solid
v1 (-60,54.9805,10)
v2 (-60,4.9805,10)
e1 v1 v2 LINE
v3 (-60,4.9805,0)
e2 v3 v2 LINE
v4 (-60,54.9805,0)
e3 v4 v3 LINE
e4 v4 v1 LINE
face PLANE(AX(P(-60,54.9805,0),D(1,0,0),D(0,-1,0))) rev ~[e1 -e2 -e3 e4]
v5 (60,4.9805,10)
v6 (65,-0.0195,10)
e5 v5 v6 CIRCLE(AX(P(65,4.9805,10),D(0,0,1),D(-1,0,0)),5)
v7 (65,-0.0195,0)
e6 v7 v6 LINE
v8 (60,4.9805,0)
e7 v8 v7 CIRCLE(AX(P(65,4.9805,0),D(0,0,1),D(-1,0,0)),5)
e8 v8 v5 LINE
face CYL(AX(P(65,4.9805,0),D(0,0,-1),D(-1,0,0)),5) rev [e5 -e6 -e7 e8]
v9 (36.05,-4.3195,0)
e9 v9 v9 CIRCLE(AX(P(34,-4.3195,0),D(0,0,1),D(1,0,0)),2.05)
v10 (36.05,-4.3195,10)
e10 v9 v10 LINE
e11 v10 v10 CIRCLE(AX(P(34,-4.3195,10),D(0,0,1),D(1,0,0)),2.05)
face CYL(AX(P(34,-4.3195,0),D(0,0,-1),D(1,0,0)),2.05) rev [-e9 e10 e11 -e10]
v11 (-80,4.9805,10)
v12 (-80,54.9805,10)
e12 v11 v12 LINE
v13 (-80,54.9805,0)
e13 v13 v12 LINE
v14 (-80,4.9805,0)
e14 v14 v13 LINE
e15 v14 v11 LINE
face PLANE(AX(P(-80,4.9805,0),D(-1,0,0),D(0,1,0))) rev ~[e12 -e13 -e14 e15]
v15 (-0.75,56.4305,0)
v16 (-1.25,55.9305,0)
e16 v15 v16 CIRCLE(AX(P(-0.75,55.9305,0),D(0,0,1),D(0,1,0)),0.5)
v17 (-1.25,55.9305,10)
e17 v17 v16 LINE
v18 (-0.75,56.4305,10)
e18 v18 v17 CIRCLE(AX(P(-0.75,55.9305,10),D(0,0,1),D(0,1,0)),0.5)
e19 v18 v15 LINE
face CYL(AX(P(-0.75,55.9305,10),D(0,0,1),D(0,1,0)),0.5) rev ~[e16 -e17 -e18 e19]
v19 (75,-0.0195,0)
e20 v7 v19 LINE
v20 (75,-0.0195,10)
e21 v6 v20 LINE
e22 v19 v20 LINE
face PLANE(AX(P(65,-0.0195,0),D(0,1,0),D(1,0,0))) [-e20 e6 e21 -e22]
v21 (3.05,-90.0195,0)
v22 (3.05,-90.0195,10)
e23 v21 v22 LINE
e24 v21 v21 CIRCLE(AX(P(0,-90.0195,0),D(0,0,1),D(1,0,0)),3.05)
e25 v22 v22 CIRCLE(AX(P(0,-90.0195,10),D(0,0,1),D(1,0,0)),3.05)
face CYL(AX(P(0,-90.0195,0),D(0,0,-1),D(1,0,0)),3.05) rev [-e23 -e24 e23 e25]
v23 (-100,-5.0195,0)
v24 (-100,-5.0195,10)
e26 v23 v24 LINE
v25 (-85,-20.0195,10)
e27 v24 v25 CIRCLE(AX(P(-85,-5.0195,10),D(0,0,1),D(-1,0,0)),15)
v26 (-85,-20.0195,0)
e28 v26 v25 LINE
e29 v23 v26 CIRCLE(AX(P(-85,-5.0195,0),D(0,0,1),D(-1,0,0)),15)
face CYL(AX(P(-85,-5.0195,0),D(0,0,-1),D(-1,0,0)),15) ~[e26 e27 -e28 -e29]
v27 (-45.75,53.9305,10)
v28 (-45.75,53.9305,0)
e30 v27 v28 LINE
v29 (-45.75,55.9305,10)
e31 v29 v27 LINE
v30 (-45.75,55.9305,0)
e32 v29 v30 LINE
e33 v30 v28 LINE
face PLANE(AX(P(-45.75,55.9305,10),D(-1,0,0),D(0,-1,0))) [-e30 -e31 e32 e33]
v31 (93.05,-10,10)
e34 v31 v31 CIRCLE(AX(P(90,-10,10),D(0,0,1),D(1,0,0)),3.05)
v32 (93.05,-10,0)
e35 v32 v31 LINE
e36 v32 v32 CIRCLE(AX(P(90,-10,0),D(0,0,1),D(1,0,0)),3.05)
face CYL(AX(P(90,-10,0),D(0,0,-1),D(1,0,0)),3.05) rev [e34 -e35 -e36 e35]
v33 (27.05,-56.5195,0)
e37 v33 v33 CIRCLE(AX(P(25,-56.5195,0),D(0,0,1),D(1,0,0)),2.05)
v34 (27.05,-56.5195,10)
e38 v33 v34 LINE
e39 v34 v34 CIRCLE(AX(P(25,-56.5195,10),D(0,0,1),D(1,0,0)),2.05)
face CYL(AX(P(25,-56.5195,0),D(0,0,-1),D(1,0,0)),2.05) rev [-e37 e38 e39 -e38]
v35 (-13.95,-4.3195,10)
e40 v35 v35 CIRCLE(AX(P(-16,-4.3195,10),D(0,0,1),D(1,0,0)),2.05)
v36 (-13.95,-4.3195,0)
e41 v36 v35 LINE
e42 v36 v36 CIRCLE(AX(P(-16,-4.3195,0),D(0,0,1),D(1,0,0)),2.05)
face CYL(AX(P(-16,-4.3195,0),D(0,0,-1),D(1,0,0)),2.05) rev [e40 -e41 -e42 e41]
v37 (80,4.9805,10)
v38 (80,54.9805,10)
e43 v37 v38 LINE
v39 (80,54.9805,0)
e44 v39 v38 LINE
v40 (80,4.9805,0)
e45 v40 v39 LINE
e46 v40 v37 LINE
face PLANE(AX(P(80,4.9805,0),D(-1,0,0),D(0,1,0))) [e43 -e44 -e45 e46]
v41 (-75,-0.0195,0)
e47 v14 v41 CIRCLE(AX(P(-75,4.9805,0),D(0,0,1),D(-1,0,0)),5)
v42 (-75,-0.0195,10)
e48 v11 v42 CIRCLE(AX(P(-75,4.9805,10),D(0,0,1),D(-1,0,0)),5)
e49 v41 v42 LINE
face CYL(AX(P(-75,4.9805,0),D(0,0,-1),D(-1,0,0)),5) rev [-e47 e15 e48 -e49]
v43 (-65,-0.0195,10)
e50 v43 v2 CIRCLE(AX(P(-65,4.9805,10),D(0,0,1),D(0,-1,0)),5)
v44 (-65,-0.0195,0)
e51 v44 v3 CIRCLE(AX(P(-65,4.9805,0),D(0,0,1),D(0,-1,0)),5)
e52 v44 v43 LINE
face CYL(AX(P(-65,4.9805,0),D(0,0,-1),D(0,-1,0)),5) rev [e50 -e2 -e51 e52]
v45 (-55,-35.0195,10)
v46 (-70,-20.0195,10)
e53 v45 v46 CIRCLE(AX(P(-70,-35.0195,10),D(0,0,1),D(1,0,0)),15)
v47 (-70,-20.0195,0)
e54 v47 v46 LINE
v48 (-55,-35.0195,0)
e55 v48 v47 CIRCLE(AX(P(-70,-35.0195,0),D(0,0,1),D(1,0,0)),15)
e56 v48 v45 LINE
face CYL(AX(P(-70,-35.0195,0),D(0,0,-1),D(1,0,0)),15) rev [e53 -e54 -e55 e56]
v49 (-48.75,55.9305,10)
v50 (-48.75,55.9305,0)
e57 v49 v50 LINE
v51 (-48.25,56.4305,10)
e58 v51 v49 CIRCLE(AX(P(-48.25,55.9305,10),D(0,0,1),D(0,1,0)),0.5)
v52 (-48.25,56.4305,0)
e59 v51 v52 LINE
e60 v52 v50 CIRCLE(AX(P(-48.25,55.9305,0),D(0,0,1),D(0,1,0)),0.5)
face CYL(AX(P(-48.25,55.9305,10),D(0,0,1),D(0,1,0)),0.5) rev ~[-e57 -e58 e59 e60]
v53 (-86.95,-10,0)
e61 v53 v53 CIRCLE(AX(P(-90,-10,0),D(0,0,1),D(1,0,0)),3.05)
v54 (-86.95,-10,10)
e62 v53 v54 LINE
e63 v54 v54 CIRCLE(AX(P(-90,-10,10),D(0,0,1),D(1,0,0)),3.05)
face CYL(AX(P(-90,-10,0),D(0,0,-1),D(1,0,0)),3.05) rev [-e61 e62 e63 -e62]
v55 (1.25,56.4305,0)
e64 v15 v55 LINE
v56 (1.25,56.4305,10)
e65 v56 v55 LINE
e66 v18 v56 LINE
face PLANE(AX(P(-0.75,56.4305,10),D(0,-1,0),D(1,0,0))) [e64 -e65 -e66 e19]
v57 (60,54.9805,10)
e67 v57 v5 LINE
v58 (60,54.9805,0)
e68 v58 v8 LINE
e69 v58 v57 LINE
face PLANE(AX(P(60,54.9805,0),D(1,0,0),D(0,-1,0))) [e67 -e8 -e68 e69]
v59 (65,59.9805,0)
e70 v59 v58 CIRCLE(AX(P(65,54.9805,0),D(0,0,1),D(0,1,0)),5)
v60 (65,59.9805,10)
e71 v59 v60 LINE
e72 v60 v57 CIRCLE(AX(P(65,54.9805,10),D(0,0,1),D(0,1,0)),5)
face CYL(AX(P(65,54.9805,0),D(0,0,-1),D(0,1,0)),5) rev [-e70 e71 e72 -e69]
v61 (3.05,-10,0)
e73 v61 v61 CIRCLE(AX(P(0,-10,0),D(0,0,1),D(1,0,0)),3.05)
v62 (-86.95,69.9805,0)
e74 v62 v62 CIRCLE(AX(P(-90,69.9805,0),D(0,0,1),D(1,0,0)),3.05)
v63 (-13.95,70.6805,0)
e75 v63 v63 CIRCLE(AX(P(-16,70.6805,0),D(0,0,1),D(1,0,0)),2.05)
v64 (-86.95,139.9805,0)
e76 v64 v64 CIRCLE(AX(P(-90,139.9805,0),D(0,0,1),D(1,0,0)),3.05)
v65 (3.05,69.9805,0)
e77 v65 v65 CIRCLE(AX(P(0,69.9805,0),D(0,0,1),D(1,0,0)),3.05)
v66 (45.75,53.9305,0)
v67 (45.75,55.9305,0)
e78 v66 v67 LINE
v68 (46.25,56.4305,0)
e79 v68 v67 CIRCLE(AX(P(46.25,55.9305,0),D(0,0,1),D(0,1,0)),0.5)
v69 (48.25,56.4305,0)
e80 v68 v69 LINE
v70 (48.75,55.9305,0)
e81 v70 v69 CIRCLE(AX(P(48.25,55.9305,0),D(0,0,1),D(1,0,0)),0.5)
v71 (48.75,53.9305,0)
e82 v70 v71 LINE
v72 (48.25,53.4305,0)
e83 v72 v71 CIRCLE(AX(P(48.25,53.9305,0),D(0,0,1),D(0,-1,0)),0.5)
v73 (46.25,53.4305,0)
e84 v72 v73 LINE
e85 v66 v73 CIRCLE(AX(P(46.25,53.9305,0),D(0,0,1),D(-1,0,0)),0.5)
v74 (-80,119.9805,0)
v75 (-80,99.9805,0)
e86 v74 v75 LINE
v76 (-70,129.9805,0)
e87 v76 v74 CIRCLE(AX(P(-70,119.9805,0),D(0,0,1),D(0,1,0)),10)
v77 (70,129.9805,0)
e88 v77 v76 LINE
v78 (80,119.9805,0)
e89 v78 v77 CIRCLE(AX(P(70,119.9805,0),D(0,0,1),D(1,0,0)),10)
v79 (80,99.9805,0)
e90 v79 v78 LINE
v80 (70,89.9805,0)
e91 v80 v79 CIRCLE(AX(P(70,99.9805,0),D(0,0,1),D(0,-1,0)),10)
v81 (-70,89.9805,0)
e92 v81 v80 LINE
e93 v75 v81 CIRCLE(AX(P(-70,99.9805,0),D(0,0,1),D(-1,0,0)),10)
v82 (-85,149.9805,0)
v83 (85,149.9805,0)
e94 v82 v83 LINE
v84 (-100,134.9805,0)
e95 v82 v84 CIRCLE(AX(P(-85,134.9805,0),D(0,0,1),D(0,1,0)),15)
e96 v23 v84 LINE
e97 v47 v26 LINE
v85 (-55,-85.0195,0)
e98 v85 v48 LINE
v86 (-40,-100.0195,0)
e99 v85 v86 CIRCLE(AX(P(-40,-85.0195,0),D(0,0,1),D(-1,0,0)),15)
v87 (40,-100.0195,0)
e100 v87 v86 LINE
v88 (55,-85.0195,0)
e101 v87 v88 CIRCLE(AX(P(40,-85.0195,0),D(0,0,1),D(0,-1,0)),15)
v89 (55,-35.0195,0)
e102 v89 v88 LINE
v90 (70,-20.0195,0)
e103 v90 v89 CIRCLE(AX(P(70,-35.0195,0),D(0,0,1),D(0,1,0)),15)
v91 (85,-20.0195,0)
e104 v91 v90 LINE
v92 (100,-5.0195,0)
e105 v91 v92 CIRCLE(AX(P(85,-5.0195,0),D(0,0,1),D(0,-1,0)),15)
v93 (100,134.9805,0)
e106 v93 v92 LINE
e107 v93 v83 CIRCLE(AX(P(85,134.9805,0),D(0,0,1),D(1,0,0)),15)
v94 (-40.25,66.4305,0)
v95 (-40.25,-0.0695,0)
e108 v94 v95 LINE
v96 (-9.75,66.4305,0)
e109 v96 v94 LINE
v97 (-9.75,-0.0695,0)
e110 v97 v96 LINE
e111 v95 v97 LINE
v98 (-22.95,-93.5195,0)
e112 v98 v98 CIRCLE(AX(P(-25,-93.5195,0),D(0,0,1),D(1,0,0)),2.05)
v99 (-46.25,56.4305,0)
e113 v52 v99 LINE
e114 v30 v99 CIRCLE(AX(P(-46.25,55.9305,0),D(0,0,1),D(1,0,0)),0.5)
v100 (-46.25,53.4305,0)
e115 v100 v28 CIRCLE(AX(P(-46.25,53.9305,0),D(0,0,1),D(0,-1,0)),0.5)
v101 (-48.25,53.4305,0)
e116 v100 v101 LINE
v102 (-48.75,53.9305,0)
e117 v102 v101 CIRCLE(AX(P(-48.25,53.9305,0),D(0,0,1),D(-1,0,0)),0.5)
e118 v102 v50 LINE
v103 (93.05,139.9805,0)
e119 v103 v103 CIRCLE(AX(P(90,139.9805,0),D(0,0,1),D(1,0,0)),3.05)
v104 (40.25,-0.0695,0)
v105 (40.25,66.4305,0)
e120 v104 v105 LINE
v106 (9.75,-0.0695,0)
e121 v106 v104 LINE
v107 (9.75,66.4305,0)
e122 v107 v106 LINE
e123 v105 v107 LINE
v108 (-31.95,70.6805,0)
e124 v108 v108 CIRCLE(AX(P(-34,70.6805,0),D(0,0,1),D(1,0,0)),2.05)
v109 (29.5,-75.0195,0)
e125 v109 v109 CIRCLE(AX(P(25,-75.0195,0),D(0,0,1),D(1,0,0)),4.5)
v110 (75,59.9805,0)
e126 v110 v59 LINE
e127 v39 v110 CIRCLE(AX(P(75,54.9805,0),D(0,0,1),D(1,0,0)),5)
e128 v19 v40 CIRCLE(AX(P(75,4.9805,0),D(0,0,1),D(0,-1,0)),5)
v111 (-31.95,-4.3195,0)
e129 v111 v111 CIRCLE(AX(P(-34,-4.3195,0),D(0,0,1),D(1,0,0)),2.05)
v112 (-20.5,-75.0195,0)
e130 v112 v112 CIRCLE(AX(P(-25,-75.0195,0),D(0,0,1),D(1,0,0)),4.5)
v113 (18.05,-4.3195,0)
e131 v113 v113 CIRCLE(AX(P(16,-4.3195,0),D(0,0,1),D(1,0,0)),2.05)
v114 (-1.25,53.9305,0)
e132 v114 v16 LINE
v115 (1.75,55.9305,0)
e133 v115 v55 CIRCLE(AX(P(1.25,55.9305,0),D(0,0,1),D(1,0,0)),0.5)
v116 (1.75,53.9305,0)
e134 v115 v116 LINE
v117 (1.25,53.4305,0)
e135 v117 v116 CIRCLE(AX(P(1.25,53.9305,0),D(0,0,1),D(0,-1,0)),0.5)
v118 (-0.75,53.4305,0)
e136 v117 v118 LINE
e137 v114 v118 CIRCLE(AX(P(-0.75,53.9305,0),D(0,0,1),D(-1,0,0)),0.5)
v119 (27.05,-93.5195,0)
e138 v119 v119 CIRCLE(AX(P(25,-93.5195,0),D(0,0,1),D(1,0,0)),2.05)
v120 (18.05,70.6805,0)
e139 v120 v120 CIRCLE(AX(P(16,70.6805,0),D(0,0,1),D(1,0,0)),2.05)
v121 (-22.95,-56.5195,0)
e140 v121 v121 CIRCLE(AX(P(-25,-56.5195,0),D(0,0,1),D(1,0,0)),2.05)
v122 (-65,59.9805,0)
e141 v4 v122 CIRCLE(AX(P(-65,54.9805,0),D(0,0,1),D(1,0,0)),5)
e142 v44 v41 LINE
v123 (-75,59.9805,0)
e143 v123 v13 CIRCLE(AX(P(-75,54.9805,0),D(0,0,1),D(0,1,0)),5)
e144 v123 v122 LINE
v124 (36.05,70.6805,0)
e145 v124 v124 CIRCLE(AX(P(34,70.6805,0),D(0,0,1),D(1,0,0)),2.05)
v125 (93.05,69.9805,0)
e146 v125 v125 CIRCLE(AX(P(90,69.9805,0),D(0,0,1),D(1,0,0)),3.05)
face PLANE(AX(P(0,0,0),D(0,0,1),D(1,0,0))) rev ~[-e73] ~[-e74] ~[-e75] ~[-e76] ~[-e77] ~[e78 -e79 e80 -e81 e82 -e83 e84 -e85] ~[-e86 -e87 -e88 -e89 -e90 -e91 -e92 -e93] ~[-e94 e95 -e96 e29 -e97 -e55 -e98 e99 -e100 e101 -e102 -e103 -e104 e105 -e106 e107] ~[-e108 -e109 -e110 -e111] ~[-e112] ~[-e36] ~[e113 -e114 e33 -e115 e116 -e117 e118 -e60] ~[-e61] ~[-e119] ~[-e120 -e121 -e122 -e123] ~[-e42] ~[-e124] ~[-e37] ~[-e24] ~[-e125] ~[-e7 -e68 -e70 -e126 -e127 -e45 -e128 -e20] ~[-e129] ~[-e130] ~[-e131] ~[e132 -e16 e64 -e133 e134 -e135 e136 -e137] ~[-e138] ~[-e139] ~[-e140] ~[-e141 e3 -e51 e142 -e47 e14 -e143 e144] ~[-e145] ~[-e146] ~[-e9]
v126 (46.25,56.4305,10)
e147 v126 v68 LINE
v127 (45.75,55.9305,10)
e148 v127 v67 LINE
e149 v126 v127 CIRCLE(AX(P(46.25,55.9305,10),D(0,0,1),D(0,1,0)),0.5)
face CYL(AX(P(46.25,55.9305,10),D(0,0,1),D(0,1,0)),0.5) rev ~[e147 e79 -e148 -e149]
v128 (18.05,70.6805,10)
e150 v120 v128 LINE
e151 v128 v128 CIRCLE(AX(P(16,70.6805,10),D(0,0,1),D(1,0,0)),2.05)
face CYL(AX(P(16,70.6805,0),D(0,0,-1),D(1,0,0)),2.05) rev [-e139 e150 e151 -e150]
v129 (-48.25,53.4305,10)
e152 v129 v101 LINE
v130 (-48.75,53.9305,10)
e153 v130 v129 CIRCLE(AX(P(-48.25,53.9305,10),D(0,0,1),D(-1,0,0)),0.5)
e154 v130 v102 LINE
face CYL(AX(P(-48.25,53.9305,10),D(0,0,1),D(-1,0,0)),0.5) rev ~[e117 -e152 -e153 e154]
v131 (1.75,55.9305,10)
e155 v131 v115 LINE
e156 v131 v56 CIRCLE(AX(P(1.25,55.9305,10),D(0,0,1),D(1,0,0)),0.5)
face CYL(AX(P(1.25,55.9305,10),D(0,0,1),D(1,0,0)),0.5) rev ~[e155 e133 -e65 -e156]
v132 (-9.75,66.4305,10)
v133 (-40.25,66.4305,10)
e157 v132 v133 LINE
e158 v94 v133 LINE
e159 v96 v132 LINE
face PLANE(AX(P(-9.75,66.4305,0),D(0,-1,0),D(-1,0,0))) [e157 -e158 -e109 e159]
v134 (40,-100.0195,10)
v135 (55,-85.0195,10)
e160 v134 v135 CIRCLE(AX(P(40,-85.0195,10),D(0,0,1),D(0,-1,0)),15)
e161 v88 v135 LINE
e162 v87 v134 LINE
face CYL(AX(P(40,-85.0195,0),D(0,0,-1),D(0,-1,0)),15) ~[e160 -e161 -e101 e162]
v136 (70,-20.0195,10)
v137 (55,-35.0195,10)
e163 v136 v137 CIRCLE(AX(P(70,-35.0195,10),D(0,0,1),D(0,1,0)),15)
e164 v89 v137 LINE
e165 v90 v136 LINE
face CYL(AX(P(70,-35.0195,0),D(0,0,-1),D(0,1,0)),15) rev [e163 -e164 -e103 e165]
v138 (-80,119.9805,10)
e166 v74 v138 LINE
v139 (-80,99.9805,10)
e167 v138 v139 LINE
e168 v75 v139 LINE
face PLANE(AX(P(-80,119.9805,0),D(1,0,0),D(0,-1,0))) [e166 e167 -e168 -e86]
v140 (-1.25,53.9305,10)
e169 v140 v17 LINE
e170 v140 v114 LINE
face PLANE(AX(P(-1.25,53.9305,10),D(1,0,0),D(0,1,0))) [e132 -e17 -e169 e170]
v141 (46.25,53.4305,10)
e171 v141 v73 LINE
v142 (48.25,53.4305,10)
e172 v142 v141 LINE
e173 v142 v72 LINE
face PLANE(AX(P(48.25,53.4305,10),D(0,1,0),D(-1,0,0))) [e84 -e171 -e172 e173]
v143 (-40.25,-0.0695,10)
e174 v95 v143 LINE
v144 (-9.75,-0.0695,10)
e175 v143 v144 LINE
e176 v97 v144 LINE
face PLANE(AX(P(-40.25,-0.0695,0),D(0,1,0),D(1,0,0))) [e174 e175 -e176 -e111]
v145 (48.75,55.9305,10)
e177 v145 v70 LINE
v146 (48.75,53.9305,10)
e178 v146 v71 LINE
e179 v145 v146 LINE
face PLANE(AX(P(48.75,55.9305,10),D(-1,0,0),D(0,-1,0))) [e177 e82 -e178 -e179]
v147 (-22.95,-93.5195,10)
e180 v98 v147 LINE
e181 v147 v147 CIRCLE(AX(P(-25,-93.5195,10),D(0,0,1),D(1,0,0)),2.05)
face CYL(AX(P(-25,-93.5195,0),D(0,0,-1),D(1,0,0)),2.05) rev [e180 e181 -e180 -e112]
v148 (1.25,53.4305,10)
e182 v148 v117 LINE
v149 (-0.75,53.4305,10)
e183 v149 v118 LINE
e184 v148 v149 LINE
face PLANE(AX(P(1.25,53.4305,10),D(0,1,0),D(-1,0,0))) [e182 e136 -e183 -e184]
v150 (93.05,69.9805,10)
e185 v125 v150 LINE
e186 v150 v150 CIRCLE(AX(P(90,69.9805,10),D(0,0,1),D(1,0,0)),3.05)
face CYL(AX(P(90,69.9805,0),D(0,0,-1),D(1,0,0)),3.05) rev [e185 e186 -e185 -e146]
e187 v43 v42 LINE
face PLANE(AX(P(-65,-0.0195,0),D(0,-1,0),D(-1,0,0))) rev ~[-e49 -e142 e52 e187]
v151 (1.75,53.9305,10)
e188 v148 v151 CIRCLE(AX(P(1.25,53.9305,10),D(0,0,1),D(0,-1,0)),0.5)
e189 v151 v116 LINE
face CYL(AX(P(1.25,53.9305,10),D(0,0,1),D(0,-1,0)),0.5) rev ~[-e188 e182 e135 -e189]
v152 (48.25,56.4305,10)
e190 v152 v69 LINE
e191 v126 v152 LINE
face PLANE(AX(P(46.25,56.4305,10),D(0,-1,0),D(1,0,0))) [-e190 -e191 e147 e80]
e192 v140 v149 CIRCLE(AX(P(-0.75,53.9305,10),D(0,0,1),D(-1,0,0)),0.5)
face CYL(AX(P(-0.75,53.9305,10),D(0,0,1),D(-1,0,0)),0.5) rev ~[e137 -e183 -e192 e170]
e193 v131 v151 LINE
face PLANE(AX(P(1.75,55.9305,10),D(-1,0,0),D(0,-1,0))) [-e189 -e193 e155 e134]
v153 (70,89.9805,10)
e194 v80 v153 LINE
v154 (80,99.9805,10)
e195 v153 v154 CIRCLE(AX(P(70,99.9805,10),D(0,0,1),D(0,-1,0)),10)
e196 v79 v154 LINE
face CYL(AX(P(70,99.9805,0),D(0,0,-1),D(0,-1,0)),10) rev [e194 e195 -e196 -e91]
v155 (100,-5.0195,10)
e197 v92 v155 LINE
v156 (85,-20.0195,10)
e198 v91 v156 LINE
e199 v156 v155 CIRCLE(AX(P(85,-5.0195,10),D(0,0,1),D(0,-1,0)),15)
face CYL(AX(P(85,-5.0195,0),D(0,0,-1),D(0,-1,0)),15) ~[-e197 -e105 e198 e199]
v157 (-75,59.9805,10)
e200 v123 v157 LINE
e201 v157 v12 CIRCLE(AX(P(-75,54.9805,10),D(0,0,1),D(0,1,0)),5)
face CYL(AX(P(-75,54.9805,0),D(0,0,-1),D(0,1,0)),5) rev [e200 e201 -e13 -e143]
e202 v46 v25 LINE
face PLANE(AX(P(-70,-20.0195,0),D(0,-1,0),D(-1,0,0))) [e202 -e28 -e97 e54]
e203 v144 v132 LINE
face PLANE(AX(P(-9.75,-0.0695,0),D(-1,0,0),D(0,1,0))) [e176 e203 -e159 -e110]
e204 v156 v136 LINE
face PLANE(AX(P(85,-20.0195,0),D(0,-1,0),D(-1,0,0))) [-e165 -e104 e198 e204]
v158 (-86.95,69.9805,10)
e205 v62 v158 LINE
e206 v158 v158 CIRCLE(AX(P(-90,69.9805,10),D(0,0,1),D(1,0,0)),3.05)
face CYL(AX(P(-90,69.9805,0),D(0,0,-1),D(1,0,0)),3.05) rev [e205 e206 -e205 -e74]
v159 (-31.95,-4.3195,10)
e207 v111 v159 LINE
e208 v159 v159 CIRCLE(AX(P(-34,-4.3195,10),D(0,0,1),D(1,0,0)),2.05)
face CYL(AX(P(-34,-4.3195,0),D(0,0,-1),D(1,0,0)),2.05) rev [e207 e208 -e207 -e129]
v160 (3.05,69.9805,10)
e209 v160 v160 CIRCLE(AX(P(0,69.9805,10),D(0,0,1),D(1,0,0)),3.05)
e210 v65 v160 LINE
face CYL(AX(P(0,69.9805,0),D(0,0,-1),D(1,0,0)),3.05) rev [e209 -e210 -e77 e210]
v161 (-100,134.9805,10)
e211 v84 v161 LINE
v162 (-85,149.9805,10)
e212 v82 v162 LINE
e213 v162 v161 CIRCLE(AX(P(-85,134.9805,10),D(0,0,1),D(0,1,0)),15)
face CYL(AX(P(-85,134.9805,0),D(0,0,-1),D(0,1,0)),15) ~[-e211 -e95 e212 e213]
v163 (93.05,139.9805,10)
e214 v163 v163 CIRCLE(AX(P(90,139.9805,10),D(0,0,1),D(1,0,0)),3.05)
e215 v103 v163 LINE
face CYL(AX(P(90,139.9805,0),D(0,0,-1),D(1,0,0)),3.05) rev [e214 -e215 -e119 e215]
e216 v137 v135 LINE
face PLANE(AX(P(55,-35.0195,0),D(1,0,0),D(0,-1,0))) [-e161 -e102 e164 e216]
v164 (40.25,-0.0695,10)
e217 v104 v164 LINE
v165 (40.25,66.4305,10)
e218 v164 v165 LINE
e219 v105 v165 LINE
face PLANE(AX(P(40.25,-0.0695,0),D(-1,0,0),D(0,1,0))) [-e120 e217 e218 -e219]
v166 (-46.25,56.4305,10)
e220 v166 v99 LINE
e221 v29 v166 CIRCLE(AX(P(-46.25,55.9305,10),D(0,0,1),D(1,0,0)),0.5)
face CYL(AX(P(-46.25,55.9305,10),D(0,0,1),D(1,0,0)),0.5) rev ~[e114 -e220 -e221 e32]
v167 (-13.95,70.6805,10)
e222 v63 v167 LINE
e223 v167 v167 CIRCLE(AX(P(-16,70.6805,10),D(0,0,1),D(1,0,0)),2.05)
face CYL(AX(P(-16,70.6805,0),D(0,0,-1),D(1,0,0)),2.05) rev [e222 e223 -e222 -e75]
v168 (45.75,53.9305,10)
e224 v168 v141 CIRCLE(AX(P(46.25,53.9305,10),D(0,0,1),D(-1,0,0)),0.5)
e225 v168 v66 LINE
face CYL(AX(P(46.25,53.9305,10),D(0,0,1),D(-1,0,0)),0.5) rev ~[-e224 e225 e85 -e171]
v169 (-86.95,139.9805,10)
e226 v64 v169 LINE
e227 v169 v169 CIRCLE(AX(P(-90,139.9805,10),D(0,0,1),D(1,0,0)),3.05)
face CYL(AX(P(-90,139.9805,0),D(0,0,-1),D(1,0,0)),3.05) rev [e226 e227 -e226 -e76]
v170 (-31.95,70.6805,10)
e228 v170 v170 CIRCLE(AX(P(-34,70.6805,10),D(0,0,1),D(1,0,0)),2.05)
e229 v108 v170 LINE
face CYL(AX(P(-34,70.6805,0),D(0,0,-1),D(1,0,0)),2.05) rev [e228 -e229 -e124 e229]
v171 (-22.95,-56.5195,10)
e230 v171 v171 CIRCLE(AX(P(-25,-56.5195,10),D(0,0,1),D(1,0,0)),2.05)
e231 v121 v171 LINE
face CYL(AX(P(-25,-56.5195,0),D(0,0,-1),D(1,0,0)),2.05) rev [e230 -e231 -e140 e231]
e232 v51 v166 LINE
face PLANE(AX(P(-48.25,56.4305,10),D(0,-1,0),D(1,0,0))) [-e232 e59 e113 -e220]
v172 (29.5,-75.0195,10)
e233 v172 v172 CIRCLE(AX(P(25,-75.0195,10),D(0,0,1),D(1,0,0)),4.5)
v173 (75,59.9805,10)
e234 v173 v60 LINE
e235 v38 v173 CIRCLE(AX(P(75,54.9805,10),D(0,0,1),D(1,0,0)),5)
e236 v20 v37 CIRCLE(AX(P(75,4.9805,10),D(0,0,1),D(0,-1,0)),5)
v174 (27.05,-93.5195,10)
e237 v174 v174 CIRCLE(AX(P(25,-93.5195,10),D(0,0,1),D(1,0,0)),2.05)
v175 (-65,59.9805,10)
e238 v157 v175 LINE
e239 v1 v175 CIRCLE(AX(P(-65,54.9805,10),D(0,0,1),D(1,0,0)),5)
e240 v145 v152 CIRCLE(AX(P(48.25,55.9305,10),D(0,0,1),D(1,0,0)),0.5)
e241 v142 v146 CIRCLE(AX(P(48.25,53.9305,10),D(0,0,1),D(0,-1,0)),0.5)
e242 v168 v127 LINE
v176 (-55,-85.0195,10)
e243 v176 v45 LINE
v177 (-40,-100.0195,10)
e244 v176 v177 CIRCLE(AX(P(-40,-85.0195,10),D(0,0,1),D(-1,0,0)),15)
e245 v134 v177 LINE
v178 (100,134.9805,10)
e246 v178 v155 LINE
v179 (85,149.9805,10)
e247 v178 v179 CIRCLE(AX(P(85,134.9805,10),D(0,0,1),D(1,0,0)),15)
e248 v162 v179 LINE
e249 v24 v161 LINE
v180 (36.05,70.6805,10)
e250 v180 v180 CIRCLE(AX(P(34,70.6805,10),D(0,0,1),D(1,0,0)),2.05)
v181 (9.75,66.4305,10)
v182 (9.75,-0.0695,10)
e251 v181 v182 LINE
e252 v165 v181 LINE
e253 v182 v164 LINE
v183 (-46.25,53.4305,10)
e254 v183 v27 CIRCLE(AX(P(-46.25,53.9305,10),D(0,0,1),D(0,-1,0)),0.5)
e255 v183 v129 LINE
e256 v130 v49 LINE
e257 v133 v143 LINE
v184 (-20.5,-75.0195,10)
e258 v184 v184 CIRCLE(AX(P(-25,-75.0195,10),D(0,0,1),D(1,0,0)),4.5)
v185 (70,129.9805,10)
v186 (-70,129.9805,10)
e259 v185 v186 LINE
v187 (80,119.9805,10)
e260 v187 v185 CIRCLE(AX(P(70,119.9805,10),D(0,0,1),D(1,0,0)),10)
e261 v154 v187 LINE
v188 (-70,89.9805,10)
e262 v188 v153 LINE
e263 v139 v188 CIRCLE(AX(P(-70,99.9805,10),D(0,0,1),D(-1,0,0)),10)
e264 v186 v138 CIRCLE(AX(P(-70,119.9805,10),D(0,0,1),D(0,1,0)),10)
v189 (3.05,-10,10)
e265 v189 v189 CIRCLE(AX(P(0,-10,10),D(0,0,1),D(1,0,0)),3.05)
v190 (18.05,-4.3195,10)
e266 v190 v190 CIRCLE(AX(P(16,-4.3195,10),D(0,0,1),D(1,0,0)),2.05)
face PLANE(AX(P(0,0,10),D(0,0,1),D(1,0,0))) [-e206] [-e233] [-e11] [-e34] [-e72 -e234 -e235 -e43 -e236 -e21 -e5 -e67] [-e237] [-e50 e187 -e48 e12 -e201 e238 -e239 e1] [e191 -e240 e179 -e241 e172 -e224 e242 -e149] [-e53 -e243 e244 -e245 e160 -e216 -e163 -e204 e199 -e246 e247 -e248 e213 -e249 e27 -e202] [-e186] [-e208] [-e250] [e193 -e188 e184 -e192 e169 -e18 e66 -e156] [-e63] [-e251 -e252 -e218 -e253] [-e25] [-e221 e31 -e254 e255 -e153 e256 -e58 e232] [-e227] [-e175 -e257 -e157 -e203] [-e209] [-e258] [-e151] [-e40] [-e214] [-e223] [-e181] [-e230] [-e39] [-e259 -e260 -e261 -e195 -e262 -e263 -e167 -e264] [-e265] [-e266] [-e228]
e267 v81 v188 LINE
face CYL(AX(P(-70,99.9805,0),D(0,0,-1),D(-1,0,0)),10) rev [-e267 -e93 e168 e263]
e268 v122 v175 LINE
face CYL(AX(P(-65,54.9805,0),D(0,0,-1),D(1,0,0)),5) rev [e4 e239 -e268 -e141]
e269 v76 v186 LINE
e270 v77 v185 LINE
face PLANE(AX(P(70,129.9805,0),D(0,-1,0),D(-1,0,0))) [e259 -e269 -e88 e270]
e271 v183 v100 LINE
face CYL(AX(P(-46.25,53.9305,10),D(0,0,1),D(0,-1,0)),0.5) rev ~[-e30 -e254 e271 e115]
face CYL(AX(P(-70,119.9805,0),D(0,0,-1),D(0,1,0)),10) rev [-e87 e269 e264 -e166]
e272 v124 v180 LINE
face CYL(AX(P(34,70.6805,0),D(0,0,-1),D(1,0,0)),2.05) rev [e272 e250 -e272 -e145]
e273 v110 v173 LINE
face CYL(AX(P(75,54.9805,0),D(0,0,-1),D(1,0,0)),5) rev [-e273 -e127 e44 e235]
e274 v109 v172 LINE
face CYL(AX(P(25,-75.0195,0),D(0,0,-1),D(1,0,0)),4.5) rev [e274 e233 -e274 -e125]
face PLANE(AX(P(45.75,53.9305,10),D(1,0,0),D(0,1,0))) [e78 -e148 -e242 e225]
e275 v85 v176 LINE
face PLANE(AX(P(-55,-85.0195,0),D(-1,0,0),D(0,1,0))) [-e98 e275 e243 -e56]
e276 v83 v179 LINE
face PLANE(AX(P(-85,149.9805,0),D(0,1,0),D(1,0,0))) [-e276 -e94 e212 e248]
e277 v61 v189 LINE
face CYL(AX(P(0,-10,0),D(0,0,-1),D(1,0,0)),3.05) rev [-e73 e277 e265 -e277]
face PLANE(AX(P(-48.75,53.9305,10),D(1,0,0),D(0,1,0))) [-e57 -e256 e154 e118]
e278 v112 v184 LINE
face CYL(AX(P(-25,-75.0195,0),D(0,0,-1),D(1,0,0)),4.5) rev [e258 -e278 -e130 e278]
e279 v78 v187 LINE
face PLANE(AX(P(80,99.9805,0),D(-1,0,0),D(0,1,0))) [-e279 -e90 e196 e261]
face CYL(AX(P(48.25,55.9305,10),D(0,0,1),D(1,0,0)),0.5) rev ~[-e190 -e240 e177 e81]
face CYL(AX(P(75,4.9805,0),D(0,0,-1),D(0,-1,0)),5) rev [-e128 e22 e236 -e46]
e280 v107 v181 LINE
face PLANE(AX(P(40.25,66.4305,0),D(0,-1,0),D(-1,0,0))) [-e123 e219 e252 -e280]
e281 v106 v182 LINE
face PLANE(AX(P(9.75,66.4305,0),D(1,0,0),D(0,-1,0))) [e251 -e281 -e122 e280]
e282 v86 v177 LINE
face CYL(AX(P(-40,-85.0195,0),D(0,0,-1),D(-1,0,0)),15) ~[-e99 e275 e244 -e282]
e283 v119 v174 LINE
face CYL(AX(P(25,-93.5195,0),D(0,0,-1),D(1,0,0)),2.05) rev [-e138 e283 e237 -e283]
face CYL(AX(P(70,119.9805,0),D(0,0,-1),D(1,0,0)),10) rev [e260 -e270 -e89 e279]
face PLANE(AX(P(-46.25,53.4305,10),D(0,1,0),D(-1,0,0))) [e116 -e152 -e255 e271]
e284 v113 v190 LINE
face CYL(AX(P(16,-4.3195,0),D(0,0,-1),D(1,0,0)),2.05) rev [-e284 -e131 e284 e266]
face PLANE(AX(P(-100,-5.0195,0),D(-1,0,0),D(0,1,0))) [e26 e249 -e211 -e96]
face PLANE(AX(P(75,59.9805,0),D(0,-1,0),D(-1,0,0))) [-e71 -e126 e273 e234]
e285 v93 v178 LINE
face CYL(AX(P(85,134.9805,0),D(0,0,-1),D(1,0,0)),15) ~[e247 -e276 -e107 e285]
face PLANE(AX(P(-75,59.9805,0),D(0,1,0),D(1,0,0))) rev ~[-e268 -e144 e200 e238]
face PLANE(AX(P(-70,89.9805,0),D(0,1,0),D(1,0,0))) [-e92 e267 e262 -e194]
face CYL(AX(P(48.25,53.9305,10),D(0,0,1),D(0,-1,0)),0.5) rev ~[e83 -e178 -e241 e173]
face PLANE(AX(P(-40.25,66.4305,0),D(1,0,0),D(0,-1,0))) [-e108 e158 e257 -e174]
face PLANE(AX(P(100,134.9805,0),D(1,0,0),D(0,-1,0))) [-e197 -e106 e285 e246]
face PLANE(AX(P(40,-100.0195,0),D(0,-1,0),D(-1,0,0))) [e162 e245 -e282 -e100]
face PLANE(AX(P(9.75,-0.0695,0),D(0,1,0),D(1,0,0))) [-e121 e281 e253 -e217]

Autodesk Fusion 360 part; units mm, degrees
sketch "Skizze1" plane through (0, 0, 0) normal (0, 0, 1) x (1, 0, 0)
  circle A0 centre (-25, -56.5195) radius 2.05
  circle A1 centre (-25, -93.5195) radius 2.05
  circle A2 centre (-25, -75.0195) radius 4.5
  circle A3 centre (25, -93.5195) radius 2.05
  circle A4 centre (25, -56.5195) radius 2.05
  circle A5 centre (25, -75.0195) radius 4.5
  line L0 (40, -100.0195) -> (-40, -100.0195)
  line L1 (-55, -85.0195) -> (-55, -35.0195)
  line L2 (-70, -20.0195) -> (-85, -20.0195)
  line L3 (-100, -5.0195) -> (-100, 134.9805)
  line L4 (-85, 149.9805) -> (85, 149.9805)
  line L5 (100, 134.9805) -> (100, -5.0195)
  line L6 (85, -20.0195) -> (70, -20.0195)
  line L7 (55, -35.0195) -> (55, -85.0195)
  line L8 (70, 129.9805) -> (-70, 129.9805)
  line L9 (-80, 119.9805) -> (-80, 99.9805)
  line L10 (-70, 89.9805) -> (70, 89.9805)
  line L11 (80, 99.9805) -> (80, 119.9805)
  line L12 (9.75, -0.0695) -> (40.25, -0.0695)
  line L13 (40.25, 66.4305) -> (9.75, 66.4305)
  circle A6 centre (34, 70.6805) radius 2.05
  circle A7 centre (34, -4.3195) radius 2.05
  line L14 (40.25, -0.0695) -> (40.25, 66.4305)
  circle A8 centre (16, -4.3195) radius 2.05
  line L15 (9.75, 66.4305) -> (9.75, -0.0695)
  circle A9 centre (16, 70.6805) radius 2.05
  line L16 (-40.25, -0.0695) -> (-9.75, -0.0695)
  line L17 (-9.75, 66.4305) -> (-40.25, 66.4305)
  circle A10 centre (-16, 70.6805) radius 2.05
  circle A11 centre (-16, -4.3195) radius 2.05
  line L18 (-9.75, -0.0695) -> (-9.75, 66.4305)
  circle A12 centre (-34, -4.3195) radius 2.05
  line L19 (-40.25, 66.4305) -> (-40.25, -0.0695)
  circle A13 centre (-34, 70.6805) radius 2.05
  arc A14 (100, 134.9805) -> (85, 149.9805) centre (85, 134.9805) ccw
  arc A15 (-85, 149.9805) -> (-100, 134.9805) centre (-85, 134.9805) ccw
  arc A16 (-100, -5.0195) -> (-85, -20.0195) centre (-85, -5.0195) ccw
  arc A17 (85, -20.0195) -> (100, -5.0195) centre (85, -5.0195) ccw
  arc A18 (40, -100.0195) -> (55, -85.0195) centre (40, -85.0195) ccw
  arc A19 (-55, -85.0195) -> (-40, -100.0195) centre (-40, -85.0195) ccw
  arc A20 (-55, -35.0195) -> (-70, -20.0195) centre (-70, -35.0195) ccw
  arc A21 (70, -20.0195) -> (55, -35.0195) centre (70, -35.0195) ccw
  line L20 (-75, 59.9805) -> (-65, 59.9805)
  line L21 (-60, 54.9805) -> (-60, 4.9805)
  line L22 (-65, -0.0195) -> (-75, -0.0195)
  line L23 (-80, 4.9805) -> (-80, 54.9805)
  arc A22 (-80, 99.9805) -> (-70, 89.9805) centre (-70, 99.9805) ccw
  arc A23 (-70, 129.9805) -> (-80, 119.9805) centre (-70, 119.9805) ccw
  arc A24 (70, 89.9805) -> (80, 99.9805) centre (70, 99.9805) ccw
  arc A25 (80, 119.9805) -> (70, 129.9805) centre (70, 119.9805) ccw
  arc A26 (-60, 54.9805) -> (-65, 59.9805) centre (-65, 54.9805) ccw
  arc A27 (-75, 59.9805) -> (-80, 54.9805) centre (-75, 54.9805) ccw
  arc A28 (-80, 4.9805) -> (-75, -0.0195) centre (-75, 4.9805) ccw
  arc A29 (-65, -0.0195) -> (-60, 4.9805) centre (-65, 4.9805) ccw
  line L24 (75, 59.9805) -> (65, 59.9805)
  line L25 (60, 54.9805) -> (60, 4.9805)
  line L26 (65, -0.0195) -> (75, -0.0195)
  line L27 (80, 4.9805) -> (80, 54.9805)
  arc A30 (80, 54.9805) -> (75, 59.9805) centre (75, 54.9805) ccw
  arc A31 (65, 59.9805) -> (60, 54.9805) centre (65, 54.9805) ccw
  arc A32 (60, 4.9805) -> (65, -0.0195) centre (65, 4.9805) ccw
  arc A33 (75, -0.0195) -> (80, 4.9805) centre (75, 4.9805) ccw
  circle A34 centre (90, 69.9805) radius 3.05
  circle A35 centre (-90, 69.9805) radius 3.05
  circle A36 centre (90, 139.9805) radius 3.05
  circle A37 centre (-90, 139.9805) radius 3.05
  circle A38 centre (90, -10) radius 3.05
  circle A39 centre (-90, -10) radius 3.05
  circle A40 centre (0, 69.9805) radius 3.05
  circle A41 centre (0, -90.0195) radius 3.05
  circle A42 centre (0, -10) radius 3.05
  dimension "d5" = 9
  dimension "d6" = 4.1
  dimension "d7" = 18.5
  dimension "d8" = 4.1
  dimension "d9" = 18.5
  dimension "d10" = 9
  dimension "d11" = 4.1
  dimension "d12" = 18.5
  dimension "d13" = 4.1
  dimension "d14" = 18.5
  dimension "d15" = 25
  dimension "d16" = 200
  dimension "d18" = 25
  dimension "d47" = 25
  dimension "d68" = 15.25
  dimension "d69" = 15.25
  dimension "d70" = 33.25
  dimension "d71" = 33.25
  dimension "d72" = 4.1
  dimension "d73" = 18
  dimension "d74" = 75
  dimension "d78" = 15.25
  dimension "d79" = 15.25
  dimension "d80" = 15.25
  dimension "d81" = 33.25
  dimension "d82" = 33.25
  dimension "d83" = 4.1
  dimension "d84" = 18
  dimension "d85" = 75
  dimension "d89" = 15.25
  dimension "d90" = 9
  dimension "d91" = 37.5
  dimension "d94" = 25
  dimension "d95" = 25
  dimension "d98" = 37.5
  dimension "d99" = 9
  dimension "d100" = 15
  dimension "d101" = 15
  dimension "d104" = 20
  dimension "d105" = 20
  dimension "d106" = 20
  dimension "d107" = 40
  dimension "d108" = 10
  dimension "d109" = 5
  dimension "d110" = 5
  dimension "d113" = 55
  dimension "d114" = 55
  dimension "d115" = 250
  dimension "d116" = 170
  dimension "d117" = 20
  dimension "d118" = 20
  dimension "d120" = 20
  dimension "d121" = 60
  dimension "d122" = 170
  dimension "d123" = 20
  dimension "d124" = 20
  dimension "d125" = 60
  dimension "d126" = 20
  dimension "d127" = 6.1
  dimension "d128" = 10
  dimension "d129" = 10
  dimension "d130" = 10
  dimension "d131" = 10
  dimension "d132" = 10
  dimension "d133" = 10
  dimension "d134" = 10
  dimension "d135" = 10
  dimension "d136" = 10
  dimension "d137" = 10
  dimension "d139" = 100
  dimension "d194" = 18.2
  dimension "d195" = 18.2
  dimension "d197" = 90
  dimension "d198" = 90
extrude "Extrusion3" add sketch "Skizze1" along normal blind 10
sketch "Skizze2" plane through (0, 0, 10) normal (0, 0, 1) x (1, 0, 0)
  circle A0 centre (-90, 69.9805) radius 3.05
  circle A1 centre (0, -90.0195) radius 3.05
  circle A2 centre (0, -10) radius 3.05
  circle A3 centre (0, 69.9805) radius 3.05
  circle A4 centre (-90, -10) radius 3.05
  circle A5 centre (90, -10) radius 3.05
  circle A6 centre (-90, 139.9805) radius 3.05
  circle A7 centre (90, 139.9805) radius 3.05
  circle A8 centre (-25, -93.5195) radius 2.05
  circle A9 centre (-25, -75.0195) radius 4.5
  circle A10 centre (25, -93.5195) radius 2.05
  circle A11 centre (16, 70.6805) radius 2.05
  circle A12 centre (-16, 70.6805) radius 2.05
  arc A13 (75, -0.0195) -> (80, 4.9805) centre (75, 4.9805) ccw
  line L0 (75, -0.0195) -> (65, -0.0195)
  arc A14 (60, 4.9805) -> (65, -0.0195) centre (65, 4.9805) ccw
  line L1 (60, 4.9805) -> (60, 54.9805)
  arc A15 (65, 59.9805) -> (60, 54.9805) centre (65, 54.9805) ccw
  line L2 (65, 59.9805) -> (75, 59.9805)
  arc A16 (80, 54.9805) -> (75, 59.9805) centre (75, 54.9805) ccw
  line L3 (80, 54.9805) -> (80, 4.9805)
  circle A17 centre (-16, -4.3195) radius 2.05
  circle A18 centre (90, 69.9805) radius 3.05
  circle A19 centre (-25, -56.5195) radius 2.05
  circle A20 centre (-34, 70.6805) radius 2.05
  line L4 (-40.25, -0.0695) -> (-40.25, 66.4305)
  line L5 (-40.25, 66.4305) -> (-9.75, 66.4305)
  line L6 (-9.75, 66.4305) -> (-9.75, -0.0695)
  line L7 (-9.75, -0.0695) -> (-40.25, -0.0695)
  circle A21 centre (-34, -4.3195) radius 2.05
  arc A22 (-80, 4.9805) -> (-75, -0.0195) centre (-75, 4.9805) ccw
  line L8 (-80, 4.9805) -> (-80, 54.9805)
  arc A23 (-75, 59.9805) -> (-80, 54.9805) centre (-75, 54.9805) ccw
  line L9 (-75, 59.9805) -> (-65, 59.9805)
  arc A24 (-60, 54.9805) -> (-65, 59.9805) centre (-65, 54.9805) ccw
  line L10 (-60, 54.9805) -> (-60, 4.9805)
  arc A25 (-65, -0.0195) -> (-60, 4.9805) centre (-65, 4.9805) ccw
  line L11 (-65, -0.0195) -> (-75, -0.0195)
  arc A26 (80, 119.9805) -> (70, 129.9805) centre (70, 119.9805) ccw
  line L12 (80, 119.9805) -> (80, 99.9805)
  arc A27 (70, 89.9805) -> (80, 99.9805) centre (70, 99.9805) ccw
  line L13 (70, 89.9805) -> (-70, 89.9805)
  arc A28 (-80, 99.9805) -> (-70, 89.9805) centre (-70, 99.9805) ccw
  line L14 (-80, 99.9805) -> (-80, 119.9805)
  arc A29 (-70, 129.9805) -> (-80, 119.9805) centre (-70, 119.9805) ccw
  line L15 (-70, 129.9805) -> (70, 129.9805)
  circle A30 centre (34, 70.6805) radius 2.05
  circle A31 centre (25, -56.5195) radius 2.05
  circle A32 centre (16, -4.3195) radius 2.05
  circle A33 centre (25, -75.0195) radius 4.5
  circle A34 centre (34, -4.3195) radius 2.05
  line L16 (9.75, -0.0695) -> (9.75, 66.4305)
  line L17 (9.75, 66.4305) -> (40.25, 66.4305)
  line L18 (40.25, 66.4305) -> (40.25, -0.0695)
  line L19 (40.25, -0.0695) -> (9.75, -0.0695)
  arc A35 (85, -20.0195) -> (100, -5.0195) centre (85, -5.0195) ccw
  line L20 (100, -5.0195) -> (100, 134.9805)
  arc A36 (100, 134.9805) -> (85, 149.9805) centre (85, 134.9805) ccw
  line L21 (85, 149.9805) -> (-85, 149.9805)
  arc A37 (-85, 149.9805) -> (-100, 134.9805) centre (-85, 134.9805) ccw
  line L22 (-100, 134.9805) -> (-100, -5.0195)
  arc A38 (-100, -5.0195) -> (-85, -20.0195) centre (-85, -5.0195) ccw
  line L23 (-85, -20.0195) -> (-70, -20.0195)
  arc A39 (-55, -35.0195) -> (-70, -20.0195) centre (-70, -35.0195) ccw
  line L24 (-55, -35.0195) -> (-55, -85.0195)
  arc A40 (-55, -85.0195) -> (-40, -100.0195) centre (-40, -85.0195) ccw
  line L25 (-40, -100.0195) -> (40, -100.0195)
  arc A41 (40, -100.0195) -> (55, -85.0195) centre (40, -85.0195) ccw
  line L26 (55, -85.0195) -> (55, -35.0195)
  arc A42 (70, -20.0195) -> (55, -35.0195) centre (70, -35.0195) ccw
  line L27 (70, -20.0195) -> (85, -20.0195)
  line L28 (85, -20.0195) -> (70, -20.0195)
  line L29 (100, 134.9805) -> (100, -5.0195)
  line L30 (-70, -20.0195) -> (-85, -20.0195)
  line L31 (-100, -5.0195) -> (-100, 134.9805)
  line L32 (60, 54.9805) -> (60, 4.9805)
  line L33 (-60, 54.9805) -> (-60, 4.9805)
  line L34 (-48.25, 56.4305) -> (-46.25, 56.4305)
  line L35 (-45.75, 55.9305) -> (-45.75, 53.9305)
  line L36 (-46.25, 53.4305) -> (-48.25, 53.4305)
  line L37 (-48.75, 53.9305) -> (-48.75, 55.9305)
  arc A43 (-48.25, 56.4305) -> (-48.75, 55.9305) centre (-48.25, 55.9305) ccw
  arc A44 (-45.75, 55.9305) -> (-46.25, 56.4305) centre (-46.25, 55.9305) ccw
  arc A45 (-46.25, 53.4305) -> (-45.75, 53.9305) centre (-46.25, 53.9305) ccw
  arc A46 (-48.75, 53.9305) -> (-48.25, 53.4305) centre (-48.25, 53.9305) ccw
  line L38 (-40.25, 66.4305) -> (-40.25, -0.0695)
  line L39 (-9.75, 66.4305) -> (-40.25, 66.4305)
  line L40 (48.75, 55.9305) -> (48.75, 53.9305)
  arc A47 (46.25, 56.4305) -> (45.75, 55.9305) centre (46.25, 55.9305) ccw
  arc A48 (48.25, 53.4305) -> (48.75, 53.9305) centre (48.25, 53.9305) ccw
  arc A49 (45.75, 53.9305) -> (46.25, 53.4305) centre (46.25, 53.9305) ccw
  line L41 (48.25, 53.4305) -> (46.25, 53.4305)
  line L42 (46.25, 56.4305) -> (48.25, 56.4305)
  line L43 (45.75, 53.9305) -> (45.75, 55.9305)
  arc A50 (48.75, 55.9305) -> (48.25, 56.4305) centre (48.25, 55.9305) ccw
  line L44 (40.25, -0.0695) -> (40.25, 66.4305)
  line L45 (40.25, 66.4305) -> (9.75, 66.4305)
  line L46 (1.75, 55.9305) -> (1.75, 53.9305)
  arc A51 (-0.75, 56.4305) -> (-1.25, 55.9305) centre (-0.75, 55.9305) ccw
  arc A52 (1.25, 53.4305) -> (1.75, 53.9305) centre (1.25, 53.9305) ccw
  arc A53 (-1.25, 53.9305) -> (-0.75, 53.4305) centre (-0.75, 53.9305) ccw
  line L47 (1.25, 53.4305) -> (-0.75, 53.4305)
  line L48 (-0.75, 56.4305) -> (1.25, 56.4305)
  line L49 (-1.25, 53.9305) -> (-1.25, 55.9305)
  arc A54 (1.75, 55.9305) -> (1.25, 56.4305) centre (1.25, 55.9305) ccw
  line L50 (9.75, 66.4305) -> (9.75, -0.0695)
  point P0 (-20, 0)
  point P1 (-20, 0)
  dimension "d177" = 3
  dimension "d178" = 3
  dimension "d179" = 0.5
  dimension "d180" = 5.5
  dimension "d181" = 10
  dimension "d182" = 3
  dimension "d183" = 3
  dimension "d184" = 0.5
  dimension "d185" = 5.5
  dimension "d186" = 10
  dimension "d187" = 3
  dimension "d188" = 3
  dimension "d189" = 0.5
  dimension "d190" = 8
  dimension "d191" = 10
extrude "Extrusion5" cut sketch "Skizze2" against normal blind 10 contours L34 L35 L36 L37 A43 A44 A45 A46 | L40 A47 A48 A49 L41 L42 L43 A50 | L46 A51 A52 A53 L47 L48 L49 A54
equation "d68 = 15 mm + tolerance"
equation "d69 = 15 mm + tolerance"
equation "d70 = 33 mm + tolerance"
equation "d71 = 33 mm + tolerance"
equation "d78 = 15 mm + tolerance"
equation "d79 = 15 mm + tolerance"
equation "d80 = 15 mm + tolerance"
equation "d81 = 33 mm + tolerance"
equation "d82 = 33 mm + tolerance"
equation "d89 = 15 mm + tolerance"
equation "tolerance = 0.25 mm"
